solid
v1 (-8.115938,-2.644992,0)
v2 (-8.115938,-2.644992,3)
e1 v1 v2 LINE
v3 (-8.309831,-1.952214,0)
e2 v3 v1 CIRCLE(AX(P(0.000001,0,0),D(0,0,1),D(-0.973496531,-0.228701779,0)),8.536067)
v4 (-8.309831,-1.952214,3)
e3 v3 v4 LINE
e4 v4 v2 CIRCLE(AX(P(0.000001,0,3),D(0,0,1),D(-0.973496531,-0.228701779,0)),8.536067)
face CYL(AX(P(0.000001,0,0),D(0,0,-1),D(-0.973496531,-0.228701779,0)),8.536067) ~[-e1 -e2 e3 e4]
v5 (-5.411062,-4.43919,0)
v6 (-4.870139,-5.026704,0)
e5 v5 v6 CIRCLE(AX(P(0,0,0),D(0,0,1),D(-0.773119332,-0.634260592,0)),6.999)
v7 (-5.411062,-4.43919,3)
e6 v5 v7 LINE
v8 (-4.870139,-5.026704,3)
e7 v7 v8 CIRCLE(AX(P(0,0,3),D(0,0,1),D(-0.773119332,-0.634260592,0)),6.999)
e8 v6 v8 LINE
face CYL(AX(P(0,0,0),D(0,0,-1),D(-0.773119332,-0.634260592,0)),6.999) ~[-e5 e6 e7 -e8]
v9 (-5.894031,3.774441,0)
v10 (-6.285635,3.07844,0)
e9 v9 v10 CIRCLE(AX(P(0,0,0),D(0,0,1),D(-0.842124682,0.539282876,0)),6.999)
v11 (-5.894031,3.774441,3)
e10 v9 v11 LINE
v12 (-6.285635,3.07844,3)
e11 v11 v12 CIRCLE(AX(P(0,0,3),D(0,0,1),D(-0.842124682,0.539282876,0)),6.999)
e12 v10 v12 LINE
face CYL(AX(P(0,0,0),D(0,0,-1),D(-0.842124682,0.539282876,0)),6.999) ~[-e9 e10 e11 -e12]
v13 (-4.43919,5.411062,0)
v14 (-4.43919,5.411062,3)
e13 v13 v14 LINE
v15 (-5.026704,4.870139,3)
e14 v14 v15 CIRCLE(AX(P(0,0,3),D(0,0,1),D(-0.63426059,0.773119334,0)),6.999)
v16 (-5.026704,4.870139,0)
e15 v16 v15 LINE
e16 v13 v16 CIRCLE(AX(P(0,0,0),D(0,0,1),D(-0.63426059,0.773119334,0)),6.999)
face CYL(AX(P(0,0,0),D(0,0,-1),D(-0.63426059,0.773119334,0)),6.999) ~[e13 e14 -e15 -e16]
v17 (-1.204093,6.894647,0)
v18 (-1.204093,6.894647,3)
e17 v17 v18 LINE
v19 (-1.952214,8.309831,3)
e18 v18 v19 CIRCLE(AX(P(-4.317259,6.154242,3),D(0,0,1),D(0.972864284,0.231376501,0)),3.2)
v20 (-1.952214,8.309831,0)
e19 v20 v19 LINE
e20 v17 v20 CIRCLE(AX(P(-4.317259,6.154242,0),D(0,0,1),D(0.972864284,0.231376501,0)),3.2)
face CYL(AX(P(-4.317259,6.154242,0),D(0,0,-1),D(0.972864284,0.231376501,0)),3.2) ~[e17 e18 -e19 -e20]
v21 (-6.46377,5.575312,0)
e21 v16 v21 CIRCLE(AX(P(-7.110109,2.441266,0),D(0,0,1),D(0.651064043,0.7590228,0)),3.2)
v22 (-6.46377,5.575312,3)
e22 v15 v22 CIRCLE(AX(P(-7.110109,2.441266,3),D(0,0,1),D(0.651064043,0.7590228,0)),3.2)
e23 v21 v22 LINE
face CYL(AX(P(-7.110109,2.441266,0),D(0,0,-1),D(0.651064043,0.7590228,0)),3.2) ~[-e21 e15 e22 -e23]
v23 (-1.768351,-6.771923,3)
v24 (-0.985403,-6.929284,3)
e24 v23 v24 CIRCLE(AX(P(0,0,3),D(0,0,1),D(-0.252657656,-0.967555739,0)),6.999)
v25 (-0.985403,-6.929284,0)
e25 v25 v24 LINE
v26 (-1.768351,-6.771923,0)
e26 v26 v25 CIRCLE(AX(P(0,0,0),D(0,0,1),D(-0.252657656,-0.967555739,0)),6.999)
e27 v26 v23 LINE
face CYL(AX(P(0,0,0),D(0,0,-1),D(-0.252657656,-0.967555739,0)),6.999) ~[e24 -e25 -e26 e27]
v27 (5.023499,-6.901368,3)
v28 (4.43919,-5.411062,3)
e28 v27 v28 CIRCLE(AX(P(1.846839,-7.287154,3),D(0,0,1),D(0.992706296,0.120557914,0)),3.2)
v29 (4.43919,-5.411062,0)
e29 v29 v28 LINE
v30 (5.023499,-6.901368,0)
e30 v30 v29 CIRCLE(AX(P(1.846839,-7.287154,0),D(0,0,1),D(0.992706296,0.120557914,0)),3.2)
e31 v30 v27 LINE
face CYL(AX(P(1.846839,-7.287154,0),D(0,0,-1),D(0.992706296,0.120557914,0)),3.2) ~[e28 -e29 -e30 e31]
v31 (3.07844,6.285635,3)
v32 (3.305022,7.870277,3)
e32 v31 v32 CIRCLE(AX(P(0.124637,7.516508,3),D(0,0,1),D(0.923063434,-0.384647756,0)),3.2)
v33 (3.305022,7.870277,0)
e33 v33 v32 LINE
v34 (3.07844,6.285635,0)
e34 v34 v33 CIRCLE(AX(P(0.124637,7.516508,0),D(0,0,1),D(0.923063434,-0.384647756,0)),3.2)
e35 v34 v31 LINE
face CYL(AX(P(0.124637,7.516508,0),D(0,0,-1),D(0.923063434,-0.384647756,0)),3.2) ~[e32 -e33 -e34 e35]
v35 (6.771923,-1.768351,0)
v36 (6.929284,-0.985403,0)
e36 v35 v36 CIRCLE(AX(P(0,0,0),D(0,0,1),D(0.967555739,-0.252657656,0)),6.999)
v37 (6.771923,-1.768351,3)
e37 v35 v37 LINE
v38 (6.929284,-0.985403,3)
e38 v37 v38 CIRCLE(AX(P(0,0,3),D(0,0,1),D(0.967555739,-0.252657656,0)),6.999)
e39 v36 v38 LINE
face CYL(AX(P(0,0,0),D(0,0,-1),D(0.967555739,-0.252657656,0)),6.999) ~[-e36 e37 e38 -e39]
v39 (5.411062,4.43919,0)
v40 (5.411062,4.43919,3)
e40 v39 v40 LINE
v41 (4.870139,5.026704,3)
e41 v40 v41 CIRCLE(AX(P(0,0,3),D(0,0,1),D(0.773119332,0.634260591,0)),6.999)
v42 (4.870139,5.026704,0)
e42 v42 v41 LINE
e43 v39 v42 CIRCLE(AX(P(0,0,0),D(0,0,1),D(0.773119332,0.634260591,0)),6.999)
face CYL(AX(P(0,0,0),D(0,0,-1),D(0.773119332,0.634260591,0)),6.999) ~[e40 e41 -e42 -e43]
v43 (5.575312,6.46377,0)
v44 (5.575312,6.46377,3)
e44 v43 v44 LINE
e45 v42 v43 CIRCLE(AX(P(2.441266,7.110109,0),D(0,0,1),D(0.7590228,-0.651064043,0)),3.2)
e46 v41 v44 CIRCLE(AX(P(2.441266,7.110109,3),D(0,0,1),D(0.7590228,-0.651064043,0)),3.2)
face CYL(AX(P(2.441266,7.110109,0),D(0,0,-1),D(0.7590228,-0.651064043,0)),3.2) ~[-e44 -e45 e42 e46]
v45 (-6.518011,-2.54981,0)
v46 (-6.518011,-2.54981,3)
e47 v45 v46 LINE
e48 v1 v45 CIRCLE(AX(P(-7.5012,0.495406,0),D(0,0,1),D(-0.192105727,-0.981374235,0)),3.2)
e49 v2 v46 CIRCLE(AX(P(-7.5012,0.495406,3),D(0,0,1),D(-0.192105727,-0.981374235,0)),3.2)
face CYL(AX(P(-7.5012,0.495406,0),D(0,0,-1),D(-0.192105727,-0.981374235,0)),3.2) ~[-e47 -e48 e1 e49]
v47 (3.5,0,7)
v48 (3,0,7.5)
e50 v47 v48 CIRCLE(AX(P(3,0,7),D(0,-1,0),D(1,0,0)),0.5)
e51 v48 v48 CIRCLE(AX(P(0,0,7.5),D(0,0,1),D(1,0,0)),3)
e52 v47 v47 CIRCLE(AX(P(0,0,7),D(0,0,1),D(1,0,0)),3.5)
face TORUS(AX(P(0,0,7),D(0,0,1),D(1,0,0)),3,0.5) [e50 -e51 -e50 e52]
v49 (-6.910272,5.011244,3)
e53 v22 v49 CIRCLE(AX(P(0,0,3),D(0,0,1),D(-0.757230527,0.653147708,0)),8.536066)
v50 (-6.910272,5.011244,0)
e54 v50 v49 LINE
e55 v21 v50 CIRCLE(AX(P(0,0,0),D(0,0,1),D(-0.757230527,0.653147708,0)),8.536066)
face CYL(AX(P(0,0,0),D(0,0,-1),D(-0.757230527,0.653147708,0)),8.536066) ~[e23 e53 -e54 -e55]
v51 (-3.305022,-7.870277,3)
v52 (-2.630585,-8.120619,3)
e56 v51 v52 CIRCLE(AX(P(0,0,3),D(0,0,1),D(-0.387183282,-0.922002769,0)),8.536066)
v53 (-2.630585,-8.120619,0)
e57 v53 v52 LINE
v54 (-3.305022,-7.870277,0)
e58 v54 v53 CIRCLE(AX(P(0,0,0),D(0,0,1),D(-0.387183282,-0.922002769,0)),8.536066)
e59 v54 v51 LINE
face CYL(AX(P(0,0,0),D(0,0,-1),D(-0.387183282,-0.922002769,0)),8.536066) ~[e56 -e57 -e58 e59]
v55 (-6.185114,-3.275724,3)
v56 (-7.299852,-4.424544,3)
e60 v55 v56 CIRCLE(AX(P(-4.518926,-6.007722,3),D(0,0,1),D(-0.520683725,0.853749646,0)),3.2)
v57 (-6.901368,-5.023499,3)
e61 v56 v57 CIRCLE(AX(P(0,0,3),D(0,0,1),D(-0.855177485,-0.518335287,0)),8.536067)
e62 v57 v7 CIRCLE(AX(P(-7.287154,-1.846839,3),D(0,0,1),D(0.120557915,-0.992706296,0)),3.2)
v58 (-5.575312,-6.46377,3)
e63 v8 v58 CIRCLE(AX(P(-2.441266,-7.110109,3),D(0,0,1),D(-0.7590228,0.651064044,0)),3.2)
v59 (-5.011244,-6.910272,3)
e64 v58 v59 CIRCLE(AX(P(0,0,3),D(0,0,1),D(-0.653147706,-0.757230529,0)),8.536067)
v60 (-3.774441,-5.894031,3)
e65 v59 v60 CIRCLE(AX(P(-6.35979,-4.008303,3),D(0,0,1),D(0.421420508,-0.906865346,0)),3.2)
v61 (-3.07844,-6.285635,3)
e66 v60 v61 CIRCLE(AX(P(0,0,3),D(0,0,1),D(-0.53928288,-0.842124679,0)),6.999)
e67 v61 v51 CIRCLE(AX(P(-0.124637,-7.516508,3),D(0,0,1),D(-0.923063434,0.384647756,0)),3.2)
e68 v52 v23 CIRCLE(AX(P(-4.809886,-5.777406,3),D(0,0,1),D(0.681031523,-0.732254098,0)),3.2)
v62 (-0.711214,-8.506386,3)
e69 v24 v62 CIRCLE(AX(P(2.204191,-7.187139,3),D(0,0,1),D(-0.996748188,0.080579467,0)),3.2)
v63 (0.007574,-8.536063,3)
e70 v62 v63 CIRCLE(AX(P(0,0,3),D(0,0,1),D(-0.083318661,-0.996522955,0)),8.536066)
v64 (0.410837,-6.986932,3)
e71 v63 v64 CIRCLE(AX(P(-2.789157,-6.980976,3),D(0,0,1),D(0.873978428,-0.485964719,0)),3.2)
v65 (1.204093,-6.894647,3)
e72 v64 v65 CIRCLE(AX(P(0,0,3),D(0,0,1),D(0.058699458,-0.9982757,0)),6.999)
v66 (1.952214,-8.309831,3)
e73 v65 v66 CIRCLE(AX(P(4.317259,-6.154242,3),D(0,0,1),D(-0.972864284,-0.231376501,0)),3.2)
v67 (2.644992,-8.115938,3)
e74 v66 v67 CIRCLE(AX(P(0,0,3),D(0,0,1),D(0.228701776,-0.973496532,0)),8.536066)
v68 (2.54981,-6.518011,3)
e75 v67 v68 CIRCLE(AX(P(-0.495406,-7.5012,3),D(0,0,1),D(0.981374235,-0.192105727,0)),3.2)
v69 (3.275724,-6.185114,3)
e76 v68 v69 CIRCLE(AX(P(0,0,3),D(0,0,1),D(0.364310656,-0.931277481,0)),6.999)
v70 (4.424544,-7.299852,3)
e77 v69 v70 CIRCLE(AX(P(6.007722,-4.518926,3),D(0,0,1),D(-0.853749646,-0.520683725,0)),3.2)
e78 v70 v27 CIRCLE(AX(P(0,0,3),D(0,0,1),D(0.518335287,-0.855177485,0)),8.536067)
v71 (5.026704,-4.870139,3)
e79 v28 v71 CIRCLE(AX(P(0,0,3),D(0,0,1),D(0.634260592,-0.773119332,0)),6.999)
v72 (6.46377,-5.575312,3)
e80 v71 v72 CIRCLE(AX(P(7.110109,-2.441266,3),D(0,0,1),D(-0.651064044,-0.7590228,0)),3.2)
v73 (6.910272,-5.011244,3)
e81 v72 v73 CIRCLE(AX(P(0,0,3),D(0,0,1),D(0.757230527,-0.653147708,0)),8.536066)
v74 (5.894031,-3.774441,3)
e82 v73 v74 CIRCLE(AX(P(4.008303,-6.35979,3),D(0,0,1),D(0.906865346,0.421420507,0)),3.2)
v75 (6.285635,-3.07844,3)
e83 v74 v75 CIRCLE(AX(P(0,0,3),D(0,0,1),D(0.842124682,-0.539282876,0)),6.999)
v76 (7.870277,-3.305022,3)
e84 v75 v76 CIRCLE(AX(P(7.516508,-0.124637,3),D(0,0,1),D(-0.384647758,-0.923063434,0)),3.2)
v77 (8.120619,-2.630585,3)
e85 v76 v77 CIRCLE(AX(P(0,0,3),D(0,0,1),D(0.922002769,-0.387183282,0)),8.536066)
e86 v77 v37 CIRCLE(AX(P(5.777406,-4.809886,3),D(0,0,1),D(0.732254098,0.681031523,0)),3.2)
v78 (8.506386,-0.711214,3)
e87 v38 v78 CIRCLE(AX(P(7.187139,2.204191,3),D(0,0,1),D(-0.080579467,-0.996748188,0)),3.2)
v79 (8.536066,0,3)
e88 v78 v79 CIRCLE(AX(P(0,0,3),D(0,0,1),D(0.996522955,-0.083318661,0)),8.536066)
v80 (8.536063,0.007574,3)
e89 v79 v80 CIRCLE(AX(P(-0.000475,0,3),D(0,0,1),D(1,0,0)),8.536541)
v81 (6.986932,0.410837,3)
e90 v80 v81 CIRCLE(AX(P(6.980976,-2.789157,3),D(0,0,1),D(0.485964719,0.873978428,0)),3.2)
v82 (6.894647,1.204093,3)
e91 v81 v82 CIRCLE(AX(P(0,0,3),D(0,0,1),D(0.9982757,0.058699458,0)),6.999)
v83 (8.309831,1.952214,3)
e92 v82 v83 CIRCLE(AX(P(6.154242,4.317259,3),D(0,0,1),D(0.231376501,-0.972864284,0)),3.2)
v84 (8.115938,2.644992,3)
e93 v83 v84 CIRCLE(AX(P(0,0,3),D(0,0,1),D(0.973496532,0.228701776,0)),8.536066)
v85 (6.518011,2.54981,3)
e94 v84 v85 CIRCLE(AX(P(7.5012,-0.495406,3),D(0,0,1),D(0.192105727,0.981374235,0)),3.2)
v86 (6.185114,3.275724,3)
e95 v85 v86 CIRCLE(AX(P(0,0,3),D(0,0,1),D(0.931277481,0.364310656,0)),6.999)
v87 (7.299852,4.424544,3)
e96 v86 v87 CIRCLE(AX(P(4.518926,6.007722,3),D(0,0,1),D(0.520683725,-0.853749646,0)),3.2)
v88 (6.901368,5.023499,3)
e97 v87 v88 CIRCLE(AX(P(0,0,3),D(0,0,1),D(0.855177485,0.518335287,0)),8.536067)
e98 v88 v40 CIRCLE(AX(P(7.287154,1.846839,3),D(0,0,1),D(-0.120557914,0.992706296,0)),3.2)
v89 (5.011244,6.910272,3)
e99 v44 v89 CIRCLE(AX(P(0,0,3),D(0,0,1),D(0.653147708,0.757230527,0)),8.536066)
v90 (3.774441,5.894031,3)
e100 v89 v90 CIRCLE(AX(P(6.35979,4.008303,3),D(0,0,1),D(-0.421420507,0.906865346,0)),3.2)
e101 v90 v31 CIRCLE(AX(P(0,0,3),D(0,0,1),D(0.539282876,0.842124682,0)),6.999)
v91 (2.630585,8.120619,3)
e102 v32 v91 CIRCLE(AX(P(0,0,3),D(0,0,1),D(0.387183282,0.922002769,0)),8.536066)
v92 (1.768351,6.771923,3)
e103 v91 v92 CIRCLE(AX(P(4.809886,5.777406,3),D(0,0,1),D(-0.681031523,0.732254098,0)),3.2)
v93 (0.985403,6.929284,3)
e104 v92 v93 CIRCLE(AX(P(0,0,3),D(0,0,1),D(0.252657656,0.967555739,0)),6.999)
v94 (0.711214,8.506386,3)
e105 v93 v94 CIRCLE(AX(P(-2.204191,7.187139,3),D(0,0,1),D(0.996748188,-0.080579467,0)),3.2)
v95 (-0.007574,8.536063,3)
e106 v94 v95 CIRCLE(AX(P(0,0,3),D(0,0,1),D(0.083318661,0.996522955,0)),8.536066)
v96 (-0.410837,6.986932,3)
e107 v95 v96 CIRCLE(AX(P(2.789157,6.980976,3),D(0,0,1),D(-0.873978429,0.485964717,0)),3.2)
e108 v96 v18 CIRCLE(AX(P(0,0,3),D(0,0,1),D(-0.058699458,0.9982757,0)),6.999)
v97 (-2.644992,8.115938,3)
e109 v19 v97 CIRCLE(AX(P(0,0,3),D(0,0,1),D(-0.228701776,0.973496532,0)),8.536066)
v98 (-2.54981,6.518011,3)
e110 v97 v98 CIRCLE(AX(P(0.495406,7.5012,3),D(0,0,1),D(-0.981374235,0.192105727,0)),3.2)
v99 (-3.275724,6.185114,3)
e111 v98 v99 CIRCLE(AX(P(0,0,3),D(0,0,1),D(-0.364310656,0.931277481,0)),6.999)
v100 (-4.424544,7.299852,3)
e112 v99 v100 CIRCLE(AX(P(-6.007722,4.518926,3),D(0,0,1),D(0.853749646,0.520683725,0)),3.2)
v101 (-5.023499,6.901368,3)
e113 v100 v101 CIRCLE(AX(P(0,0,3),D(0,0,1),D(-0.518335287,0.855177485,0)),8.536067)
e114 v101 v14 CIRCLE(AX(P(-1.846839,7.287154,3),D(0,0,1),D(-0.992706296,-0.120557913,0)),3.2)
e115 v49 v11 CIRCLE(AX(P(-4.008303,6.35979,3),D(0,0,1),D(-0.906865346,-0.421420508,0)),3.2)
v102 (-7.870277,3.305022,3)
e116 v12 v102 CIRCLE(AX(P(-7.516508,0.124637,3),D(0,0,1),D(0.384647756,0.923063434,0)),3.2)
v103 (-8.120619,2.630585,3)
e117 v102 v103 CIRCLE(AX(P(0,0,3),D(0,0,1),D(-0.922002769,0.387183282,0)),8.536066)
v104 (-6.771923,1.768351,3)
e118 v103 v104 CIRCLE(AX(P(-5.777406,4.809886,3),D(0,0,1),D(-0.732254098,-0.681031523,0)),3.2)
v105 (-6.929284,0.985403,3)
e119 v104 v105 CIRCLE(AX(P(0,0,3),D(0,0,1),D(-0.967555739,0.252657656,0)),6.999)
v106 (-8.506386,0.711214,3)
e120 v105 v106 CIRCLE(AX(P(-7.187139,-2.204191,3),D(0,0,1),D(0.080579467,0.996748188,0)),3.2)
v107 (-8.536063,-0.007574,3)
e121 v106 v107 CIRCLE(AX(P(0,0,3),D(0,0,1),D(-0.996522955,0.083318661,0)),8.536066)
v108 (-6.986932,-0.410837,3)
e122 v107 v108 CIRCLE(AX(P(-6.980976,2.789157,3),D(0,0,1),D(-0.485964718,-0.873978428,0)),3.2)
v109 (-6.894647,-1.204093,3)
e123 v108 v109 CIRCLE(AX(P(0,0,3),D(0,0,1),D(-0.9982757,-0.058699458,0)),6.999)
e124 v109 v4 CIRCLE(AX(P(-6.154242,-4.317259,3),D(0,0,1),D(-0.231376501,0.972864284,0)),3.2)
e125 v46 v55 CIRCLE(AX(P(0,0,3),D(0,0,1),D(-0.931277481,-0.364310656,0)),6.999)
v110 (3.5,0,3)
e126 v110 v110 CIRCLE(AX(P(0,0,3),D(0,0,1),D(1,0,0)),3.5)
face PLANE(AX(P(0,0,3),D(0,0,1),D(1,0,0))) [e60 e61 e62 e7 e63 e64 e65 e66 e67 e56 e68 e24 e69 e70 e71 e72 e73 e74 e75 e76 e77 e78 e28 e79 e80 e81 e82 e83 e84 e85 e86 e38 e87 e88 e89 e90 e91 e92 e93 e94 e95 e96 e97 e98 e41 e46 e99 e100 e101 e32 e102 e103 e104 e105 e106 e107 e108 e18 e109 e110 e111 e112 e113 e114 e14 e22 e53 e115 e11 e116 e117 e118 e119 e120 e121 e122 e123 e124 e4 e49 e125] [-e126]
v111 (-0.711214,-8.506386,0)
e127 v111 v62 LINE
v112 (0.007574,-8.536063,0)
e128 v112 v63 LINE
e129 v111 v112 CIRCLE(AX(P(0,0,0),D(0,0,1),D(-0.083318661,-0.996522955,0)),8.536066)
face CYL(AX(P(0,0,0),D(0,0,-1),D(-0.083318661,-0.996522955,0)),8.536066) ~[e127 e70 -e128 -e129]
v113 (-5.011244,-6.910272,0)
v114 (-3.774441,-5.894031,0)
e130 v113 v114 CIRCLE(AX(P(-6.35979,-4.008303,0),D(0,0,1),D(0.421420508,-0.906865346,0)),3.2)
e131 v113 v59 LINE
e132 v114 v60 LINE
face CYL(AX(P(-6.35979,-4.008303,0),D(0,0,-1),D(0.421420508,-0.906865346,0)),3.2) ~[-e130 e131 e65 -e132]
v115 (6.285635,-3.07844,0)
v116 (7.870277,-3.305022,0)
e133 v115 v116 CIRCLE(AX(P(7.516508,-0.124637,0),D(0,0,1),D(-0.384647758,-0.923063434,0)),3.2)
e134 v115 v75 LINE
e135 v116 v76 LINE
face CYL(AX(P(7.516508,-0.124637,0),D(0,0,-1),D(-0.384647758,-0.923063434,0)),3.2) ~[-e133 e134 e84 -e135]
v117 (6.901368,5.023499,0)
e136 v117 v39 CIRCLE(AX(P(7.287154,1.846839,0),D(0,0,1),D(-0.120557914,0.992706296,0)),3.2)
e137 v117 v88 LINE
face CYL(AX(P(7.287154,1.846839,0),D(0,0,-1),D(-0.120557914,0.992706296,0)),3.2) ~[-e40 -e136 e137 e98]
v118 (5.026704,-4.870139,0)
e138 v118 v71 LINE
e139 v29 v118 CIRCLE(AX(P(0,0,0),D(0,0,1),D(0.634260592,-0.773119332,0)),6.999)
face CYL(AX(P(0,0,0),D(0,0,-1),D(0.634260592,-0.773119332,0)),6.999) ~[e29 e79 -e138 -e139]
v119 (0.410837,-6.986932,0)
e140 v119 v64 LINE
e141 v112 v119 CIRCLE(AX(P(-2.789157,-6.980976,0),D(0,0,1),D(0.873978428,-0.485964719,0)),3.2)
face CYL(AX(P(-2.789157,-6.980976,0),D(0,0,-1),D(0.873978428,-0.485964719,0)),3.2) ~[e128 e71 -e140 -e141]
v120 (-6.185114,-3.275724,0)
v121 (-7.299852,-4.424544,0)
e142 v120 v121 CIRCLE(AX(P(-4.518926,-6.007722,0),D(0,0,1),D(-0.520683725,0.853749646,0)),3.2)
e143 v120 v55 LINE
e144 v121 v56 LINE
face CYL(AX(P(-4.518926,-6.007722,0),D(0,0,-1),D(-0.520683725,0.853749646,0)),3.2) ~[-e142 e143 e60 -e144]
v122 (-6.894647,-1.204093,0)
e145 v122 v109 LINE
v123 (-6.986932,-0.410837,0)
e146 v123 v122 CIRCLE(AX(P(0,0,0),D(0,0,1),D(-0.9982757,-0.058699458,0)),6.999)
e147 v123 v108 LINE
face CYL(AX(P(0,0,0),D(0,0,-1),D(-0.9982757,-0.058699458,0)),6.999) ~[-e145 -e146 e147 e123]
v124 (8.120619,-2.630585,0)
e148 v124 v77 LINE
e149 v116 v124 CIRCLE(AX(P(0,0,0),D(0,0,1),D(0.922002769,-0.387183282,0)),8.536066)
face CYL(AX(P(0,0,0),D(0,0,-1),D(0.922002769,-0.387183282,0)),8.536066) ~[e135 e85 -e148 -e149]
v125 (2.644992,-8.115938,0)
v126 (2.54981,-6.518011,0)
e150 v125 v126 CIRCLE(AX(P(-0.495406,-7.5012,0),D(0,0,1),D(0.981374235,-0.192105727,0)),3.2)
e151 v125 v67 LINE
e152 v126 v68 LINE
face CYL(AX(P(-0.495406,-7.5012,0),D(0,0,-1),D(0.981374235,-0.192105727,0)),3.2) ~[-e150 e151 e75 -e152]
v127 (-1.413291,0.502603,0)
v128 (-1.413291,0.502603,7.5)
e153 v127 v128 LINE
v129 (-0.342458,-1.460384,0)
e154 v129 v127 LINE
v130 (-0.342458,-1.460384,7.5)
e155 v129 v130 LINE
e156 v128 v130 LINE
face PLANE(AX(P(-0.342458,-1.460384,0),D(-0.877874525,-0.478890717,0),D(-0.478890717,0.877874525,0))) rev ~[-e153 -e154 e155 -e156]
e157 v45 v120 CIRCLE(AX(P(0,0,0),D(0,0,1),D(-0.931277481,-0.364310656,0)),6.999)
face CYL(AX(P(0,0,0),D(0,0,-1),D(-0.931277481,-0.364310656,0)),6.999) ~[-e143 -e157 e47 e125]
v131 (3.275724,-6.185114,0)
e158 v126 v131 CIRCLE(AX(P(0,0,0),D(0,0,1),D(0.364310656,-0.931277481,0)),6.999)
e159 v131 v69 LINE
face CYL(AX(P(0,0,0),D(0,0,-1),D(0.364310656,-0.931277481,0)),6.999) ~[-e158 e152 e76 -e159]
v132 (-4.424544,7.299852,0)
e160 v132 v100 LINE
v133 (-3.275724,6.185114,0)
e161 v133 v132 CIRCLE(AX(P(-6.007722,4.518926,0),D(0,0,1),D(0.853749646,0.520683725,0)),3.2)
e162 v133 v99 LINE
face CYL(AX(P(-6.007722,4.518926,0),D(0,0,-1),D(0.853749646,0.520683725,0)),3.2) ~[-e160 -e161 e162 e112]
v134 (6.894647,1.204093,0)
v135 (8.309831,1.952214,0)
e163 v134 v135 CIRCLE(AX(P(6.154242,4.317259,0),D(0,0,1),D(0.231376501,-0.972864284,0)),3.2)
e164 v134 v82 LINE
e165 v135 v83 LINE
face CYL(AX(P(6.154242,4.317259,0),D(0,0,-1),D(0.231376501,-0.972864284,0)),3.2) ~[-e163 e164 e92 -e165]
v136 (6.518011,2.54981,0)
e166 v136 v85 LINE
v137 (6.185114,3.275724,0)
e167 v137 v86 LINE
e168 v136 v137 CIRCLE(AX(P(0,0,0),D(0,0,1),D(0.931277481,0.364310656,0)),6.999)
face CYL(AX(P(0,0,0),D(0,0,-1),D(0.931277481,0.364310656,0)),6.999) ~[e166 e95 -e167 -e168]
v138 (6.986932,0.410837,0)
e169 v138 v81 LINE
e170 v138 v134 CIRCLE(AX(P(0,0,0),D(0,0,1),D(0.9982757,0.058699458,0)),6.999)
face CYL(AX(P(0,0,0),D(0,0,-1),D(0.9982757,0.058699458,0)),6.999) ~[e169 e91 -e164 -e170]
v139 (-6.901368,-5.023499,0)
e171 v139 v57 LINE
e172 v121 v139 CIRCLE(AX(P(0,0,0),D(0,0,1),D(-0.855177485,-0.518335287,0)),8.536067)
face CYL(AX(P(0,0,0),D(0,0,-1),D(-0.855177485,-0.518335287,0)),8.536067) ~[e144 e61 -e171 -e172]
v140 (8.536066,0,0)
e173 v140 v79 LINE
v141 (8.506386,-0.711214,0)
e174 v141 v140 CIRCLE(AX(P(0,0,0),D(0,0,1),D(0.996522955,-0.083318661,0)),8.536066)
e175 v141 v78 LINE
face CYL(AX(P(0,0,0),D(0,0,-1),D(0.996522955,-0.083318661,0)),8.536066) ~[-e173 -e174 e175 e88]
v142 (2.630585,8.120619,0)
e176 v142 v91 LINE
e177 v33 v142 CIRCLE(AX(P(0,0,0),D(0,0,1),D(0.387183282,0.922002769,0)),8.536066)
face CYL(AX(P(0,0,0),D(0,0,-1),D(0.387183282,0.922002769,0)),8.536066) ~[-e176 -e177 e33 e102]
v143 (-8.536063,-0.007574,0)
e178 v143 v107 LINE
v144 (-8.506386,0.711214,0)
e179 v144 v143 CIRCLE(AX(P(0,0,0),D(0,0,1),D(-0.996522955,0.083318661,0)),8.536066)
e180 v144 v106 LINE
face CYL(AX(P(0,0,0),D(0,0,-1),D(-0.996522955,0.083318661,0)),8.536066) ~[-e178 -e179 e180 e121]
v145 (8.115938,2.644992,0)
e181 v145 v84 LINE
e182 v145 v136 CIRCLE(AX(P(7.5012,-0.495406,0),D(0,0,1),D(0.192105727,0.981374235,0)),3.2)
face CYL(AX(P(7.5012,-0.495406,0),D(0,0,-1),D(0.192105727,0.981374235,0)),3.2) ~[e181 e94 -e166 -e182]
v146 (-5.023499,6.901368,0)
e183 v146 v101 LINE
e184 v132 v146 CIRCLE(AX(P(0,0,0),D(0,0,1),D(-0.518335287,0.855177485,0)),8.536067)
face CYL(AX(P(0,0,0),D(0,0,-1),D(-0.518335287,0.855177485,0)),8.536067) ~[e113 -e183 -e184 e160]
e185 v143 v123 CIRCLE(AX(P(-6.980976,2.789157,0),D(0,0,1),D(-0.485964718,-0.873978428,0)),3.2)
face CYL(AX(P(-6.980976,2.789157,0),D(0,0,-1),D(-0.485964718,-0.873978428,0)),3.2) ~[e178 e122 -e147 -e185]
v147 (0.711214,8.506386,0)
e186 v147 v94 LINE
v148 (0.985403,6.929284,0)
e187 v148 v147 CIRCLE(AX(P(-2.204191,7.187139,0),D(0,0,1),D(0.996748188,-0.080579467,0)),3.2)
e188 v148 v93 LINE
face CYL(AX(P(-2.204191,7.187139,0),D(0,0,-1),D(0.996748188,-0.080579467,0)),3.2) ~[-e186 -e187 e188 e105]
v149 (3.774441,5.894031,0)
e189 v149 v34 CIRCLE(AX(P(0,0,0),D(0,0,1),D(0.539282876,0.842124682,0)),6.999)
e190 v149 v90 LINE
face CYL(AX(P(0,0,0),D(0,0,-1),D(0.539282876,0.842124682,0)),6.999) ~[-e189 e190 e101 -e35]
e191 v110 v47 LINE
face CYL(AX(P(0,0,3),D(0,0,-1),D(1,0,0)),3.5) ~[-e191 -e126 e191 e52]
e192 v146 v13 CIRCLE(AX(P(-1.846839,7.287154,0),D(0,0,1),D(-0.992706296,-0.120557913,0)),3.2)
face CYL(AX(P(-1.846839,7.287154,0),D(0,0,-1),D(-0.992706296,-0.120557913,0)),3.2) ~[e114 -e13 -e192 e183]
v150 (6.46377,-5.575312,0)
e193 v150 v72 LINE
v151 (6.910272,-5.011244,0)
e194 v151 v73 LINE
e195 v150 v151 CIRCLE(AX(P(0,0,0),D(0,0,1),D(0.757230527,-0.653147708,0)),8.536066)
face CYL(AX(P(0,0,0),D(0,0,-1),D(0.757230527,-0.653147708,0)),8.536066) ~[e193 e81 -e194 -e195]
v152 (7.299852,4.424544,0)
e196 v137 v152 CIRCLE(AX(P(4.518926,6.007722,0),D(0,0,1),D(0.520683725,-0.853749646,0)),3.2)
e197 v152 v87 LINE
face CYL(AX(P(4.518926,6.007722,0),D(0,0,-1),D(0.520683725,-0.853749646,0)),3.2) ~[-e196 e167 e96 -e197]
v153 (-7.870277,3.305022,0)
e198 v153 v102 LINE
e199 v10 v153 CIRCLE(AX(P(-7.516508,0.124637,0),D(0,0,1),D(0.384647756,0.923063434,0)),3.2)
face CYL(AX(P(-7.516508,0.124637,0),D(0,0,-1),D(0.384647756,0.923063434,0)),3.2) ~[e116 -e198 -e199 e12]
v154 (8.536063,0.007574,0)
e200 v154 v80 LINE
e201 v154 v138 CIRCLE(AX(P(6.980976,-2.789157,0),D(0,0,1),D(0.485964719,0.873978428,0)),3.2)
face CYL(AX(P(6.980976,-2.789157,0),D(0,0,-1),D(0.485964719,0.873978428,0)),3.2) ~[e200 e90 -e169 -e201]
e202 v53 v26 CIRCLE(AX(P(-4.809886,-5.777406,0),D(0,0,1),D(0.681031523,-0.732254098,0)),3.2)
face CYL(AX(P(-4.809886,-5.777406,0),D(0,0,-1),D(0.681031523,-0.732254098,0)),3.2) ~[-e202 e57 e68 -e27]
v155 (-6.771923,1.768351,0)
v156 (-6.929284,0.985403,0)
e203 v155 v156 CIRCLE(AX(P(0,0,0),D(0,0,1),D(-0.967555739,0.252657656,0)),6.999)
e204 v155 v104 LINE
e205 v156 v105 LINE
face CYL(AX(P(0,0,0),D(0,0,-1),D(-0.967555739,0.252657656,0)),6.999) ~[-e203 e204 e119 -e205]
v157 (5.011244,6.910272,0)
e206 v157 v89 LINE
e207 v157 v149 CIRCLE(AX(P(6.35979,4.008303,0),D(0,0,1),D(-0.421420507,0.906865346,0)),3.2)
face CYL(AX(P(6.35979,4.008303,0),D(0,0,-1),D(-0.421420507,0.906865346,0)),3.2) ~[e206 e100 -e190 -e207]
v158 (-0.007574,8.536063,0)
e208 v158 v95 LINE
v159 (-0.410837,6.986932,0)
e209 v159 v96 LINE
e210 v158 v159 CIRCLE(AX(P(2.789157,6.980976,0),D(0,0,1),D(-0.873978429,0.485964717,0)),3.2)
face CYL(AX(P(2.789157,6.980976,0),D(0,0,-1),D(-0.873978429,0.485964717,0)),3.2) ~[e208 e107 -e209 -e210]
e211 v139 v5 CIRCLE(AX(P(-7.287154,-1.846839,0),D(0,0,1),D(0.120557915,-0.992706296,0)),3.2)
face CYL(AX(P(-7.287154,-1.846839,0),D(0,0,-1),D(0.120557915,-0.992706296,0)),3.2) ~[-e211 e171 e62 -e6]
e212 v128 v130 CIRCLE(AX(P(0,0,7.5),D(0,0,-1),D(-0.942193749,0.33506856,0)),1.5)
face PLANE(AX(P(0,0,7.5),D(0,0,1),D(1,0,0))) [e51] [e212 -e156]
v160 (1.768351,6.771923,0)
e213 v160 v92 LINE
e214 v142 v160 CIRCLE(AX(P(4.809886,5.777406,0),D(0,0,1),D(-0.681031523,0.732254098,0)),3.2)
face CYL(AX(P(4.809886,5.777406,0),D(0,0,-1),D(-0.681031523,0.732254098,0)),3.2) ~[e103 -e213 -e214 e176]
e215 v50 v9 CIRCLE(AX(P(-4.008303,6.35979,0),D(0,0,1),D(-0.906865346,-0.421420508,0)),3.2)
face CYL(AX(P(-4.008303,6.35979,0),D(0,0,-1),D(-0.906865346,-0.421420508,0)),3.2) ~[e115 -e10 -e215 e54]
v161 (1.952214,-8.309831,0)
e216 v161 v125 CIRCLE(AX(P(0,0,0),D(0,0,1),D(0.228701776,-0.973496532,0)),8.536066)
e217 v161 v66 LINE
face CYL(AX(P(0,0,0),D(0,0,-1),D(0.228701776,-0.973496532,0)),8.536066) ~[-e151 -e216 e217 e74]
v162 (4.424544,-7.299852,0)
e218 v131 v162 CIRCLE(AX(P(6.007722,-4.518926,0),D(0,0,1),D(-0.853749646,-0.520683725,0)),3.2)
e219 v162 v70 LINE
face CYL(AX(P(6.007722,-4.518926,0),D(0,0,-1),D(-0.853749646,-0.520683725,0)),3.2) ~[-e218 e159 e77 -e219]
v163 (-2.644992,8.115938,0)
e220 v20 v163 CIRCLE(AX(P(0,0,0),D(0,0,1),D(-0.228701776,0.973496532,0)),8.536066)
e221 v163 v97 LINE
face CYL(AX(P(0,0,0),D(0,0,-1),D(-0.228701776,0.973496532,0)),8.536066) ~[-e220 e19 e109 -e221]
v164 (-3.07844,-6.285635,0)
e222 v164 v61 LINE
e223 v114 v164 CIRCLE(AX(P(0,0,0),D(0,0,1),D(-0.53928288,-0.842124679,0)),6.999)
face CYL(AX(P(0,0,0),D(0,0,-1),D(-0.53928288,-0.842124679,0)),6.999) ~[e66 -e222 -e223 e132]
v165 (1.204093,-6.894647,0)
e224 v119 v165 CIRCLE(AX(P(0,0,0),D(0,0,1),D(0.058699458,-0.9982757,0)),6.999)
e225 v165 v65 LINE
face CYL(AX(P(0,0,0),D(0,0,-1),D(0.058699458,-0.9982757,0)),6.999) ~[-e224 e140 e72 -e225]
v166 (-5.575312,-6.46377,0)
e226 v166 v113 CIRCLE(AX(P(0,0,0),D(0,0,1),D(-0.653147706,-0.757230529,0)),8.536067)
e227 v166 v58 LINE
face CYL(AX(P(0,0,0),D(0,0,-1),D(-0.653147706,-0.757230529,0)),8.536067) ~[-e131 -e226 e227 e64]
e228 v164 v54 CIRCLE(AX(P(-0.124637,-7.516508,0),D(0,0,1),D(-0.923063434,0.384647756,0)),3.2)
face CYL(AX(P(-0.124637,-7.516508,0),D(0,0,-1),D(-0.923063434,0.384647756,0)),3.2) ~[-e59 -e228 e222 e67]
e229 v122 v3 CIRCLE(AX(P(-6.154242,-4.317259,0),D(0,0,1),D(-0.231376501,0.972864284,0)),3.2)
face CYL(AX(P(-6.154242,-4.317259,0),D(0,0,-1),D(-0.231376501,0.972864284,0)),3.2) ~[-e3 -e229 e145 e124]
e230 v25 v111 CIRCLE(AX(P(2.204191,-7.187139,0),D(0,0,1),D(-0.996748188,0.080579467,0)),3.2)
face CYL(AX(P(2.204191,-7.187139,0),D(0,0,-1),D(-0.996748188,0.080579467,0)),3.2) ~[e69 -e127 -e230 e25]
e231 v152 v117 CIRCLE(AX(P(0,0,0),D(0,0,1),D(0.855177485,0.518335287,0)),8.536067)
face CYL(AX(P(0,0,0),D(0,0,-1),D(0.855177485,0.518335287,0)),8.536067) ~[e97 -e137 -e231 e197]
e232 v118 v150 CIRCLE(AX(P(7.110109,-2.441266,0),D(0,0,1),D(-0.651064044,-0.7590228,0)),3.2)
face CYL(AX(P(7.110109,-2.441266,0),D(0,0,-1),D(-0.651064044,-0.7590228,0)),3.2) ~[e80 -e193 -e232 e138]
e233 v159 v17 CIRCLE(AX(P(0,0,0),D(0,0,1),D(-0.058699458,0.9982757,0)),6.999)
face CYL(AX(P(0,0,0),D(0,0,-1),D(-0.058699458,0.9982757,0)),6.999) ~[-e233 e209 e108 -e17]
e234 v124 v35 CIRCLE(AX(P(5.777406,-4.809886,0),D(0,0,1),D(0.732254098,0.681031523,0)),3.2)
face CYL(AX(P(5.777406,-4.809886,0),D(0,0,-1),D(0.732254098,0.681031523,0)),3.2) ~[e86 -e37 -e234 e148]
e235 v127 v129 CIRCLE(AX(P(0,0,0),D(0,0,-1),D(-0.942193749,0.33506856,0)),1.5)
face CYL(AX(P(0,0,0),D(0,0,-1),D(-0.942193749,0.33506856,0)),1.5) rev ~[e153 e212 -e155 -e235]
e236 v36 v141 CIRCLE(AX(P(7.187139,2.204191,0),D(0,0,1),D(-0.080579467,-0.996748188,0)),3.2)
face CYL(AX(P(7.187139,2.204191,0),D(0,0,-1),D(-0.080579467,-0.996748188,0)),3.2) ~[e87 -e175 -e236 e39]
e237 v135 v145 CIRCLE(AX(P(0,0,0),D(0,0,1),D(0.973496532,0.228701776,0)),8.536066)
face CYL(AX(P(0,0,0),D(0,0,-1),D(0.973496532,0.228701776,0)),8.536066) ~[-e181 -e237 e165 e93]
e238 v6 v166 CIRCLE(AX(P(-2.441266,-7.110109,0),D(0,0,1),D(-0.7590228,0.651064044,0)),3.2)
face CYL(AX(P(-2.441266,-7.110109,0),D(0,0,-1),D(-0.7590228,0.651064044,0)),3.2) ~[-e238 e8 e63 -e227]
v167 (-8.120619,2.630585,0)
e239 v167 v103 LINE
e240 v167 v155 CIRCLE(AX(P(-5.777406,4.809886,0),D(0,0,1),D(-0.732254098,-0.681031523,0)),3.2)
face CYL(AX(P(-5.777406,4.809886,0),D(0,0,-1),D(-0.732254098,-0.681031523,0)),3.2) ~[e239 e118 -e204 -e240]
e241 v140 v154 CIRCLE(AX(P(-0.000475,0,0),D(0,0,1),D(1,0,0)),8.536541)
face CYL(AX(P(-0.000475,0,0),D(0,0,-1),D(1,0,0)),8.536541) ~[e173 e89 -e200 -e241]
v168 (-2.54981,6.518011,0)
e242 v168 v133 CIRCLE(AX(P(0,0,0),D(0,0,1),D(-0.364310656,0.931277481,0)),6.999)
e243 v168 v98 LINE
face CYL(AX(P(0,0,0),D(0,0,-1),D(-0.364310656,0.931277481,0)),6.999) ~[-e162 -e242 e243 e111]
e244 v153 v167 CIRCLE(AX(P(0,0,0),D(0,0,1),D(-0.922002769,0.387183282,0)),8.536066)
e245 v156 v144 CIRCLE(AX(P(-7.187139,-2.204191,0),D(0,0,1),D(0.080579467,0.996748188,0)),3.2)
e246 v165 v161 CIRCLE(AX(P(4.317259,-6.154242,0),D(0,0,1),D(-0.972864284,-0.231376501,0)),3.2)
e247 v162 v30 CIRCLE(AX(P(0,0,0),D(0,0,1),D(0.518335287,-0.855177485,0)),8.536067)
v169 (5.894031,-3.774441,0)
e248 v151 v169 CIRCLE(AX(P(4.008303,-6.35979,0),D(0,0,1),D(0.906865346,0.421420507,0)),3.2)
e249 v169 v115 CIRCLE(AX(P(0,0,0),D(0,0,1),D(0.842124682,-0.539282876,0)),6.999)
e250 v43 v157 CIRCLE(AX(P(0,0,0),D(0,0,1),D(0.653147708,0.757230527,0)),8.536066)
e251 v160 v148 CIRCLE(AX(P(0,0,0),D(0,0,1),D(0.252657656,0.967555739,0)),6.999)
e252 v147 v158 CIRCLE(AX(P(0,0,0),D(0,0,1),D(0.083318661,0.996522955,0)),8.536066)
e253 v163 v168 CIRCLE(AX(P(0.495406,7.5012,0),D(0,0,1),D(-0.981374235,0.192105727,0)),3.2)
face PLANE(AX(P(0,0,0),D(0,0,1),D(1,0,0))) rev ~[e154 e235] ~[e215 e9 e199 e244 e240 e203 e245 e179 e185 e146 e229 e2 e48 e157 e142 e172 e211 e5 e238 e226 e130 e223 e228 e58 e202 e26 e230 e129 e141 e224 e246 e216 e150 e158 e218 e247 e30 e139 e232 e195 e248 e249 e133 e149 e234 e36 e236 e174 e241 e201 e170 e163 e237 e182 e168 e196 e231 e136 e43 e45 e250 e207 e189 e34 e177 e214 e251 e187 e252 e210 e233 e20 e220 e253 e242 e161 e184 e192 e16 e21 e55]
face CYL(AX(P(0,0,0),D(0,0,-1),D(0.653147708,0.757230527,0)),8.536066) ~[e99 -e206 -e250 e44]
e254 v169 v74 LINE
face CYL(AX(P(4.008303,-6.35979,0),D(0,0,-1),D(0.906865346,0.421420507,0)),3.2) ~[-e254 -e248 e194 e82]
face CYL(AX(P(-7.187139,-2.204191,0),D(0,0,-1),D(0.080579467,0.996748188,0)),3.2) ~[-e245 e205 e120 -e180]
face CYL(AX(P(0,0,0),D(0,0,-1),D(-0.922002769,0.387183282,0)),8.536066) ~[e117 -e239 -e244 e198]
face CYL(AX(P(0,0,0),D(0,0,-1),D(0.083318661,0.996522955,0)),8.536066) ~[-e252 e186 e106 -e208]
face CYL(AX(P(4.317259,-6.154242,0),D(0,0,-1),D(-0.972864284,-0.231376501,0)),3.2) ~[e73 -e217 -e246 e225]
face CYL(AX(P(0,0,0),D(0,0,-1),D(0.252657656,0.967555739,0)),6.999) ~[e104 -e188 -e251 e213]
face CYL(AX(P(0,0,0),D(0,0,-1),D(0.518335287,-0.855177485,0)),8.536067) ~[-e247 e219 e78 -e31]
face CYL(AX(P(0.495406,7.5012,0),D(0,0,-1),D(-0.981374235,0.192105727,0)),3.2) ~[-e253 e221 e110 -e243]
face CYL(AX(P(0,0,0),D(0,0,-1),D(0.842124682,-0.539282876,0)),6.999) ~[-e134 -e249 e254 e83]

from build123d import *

# Parameters (mm, degrees)
EXTRUDE_4_DEPTH     = 3
SKETCH_5_R          = 3.5
EXTRUDE_6_DEPTH     = 4.5
FILLET_1_R          = 0.5
CUT_EXTRUDE_1_DEPTH = 8.5


with BuildPart() as part:
    # 草图4 → 凸台-拉伸4 (new body)
    with BuildSketch(Plane.XY):
        with BuildLine():
            ThreePointArc((8.536063079, 0.007574004), (7.787120491, 0.307636704), (6.986931627, 0.410837493))
            ThreePointArc((6.986931627, 0.410837493), (6.952112765, 0.808782481), (6.894647301, 1.204092849))
            ThreePointArc((6.894647301, 1.204092849), (7.649774364, 1.488233206), (8.309831075, 1.95221355))
            ThreePointArc((8.309831075, 1.95221355), (8.220185959, 2.300646222), (8.115937918, 2.644991862))
            ThreePointArc((8.115937918, 2.644991862), (7.310926717, 2.698932461), (6.518011085, 2.549810286))
            ThreePointArc((6.518011085, 2.549810286), (6.361924616, 2.91751884), (6.18511409, 3.275723537))
            ThreePointArc((6.18511409, 3.275723537), (6.815478405, 3.77930417), (7.29985183, 4.424544441))
            ThreePointArc((7.29985183, 4.424544441), (7.106922641, 4.72822174), (6.901368208, 5.023499488))
            ThreePointArc((6.901368208, 5.023499488), (6.119088497, 4.826037904), (5.411062205, 4.439189883))
            ThreePointArc((5.411062205, 4.439189883), (5.148986959, 4.740668128), (4.870138818, 5.026703581))
            ThreePointArc((4.870138818, 5.026703581), (5.314035933, 5.70043051), (5.575312226, 6.463770094))
            ThreePointArc((5.575312226, 6.463770094), (5.297984218, 6.69296597), (5.011244492, 6.910271984))
            ThreePointArc((5.011244492, 6.910271984), (4.328271261, 6.480737132), (3.774440855, 5.894030644))
            ThreePointArc((3.774440855, 5.894030644), (3.432030584, 6.099767788), (3.078440426, 6.285634856))
            ThreePointArc((3.078440426, 6.285634856), (3.292418599, 7.063558994), (3.305022217, 7.870276894))
            ThreePointArc((3.305022217, 7.870276894), (2.970442186, 8.002556058), (2.63058525, 8.12061891))
            ThreePointArc((2.63058525, 8.12061891), (2.113772678, 7.501056656), (1.768350936, 6.77192262))
            ThreePointArc((1.768350936, 6.77192262), (1.379123142, 6.861779679), (0.985402836, 6.929284397))
            ThreePointArc((0.985402836, 6.929284397), (0.948516393, 7.735257109), (0.711213605, 8.506386157))
            ThreePointArc((0.711213605, 8.506386157), (0.352132577, 8.528800203), (-0.007574004, 8.536063079))
            ThreePointArc((-0.007574004, 8.536063079), (-0.307636703, 7.787120491), (-0.410837493, 6.986931627))
            ThreePointArc((-0.410837493, 6.986931627), (-0.808782481, 6.952112765), (-1.204092849, 6.894647301))
            ThreePointArc((-1.204092849, 6.894647301), (-1.488233206, 7.649774364), (-1.95221355, 8.309831075))
            ThreePointArc((-1.95221355, 8.309831075), (-2.300646222, 8.220185959), (-2.644991862, 8.115937918))
            ThreePointArc((-2.644991862, 8.115937918), (-2.698932461, 7.310926717), (-2.549810286, 6.518011085))
            ThreePointArc((-2.549810286, 6.518011085), (-2.91751884, 6.361924616), (-3.275723537, 6.18511409))
            ThreePointArc((-3.275723537, 6.18511409), (-3.77930417, 6.815478405), (-4.424544441, 7.29985183))
            ThreePointArc((-4.424544441, 7.29985183), (-4.72822174, 7.106922641), (-5.023499488, 6.901368208))
            ThreePointArc((-5.023499488, 6.901368208), (-4.826037904, 6.119088497), (-4.439189882, 5.411062205))
            ThreePointArc((-4.439189882, 5.411062205), (-4.740668128, 5.148986959), (-5.026703581, 4.870138818))
            ThreePointArc((-5.026703581, 4.870138818), (-5.70043051, 5.314035933), (-6.463770094, 5.575312226))
            ThreePointArc((-6.463770094, 5.575312226), (-6.69296597, 5.297984218), (-6.910271984, 5.011244492))
            ThreePointArc((-6.910271984, 5.011244492), (-6.480737132, 4.328271262), (-5.894030644, 3.774440855))
            ThreePointArc((-5.894030644, 3.774440855), (-6.099767788, 3.432030584), (-6.285634856, 3.078440426))
            ThreePointArc((-6.285634856, 3.078440426), (-7.063558994, 3.292418599), (-7.870276894, 3.305022217))
            ThreePointArc((-7.870276894, 3.305022217), (-8.002556058, 2.970442186), (-8.12061891, 2.63058525))
            ThreePointArc((-8.12061891, 2.63058525), (-7.501056656, 2.113772678), (-6.77192262, 1.768350936))
            ThreePointArc((-6.77192262, 1.768350936), (-6.861779679, 1.379123142), (-6.929284397, 0.985402836))
            ThreePointArc((-6.929284397, 0.985402836), (-7.735257109, 0.948516393), (-8.506386157, 0.711213605))
            ThreePointArc((-8.506386157, 0.711213605), (-8.528800203, 0.352132577), (-8.536063079, -0.007574004))
            ThreePointArc((-8.536063079, -0.007574004), (-7.787120492, -0.307636703), (-6.986931627, -0.410837493))
            ThreePointArc((-6.986931627, -0.410837493), (-6.952112765, -0.808782481), (-6.894647301, -1.204092849))
            ThreePointArc((-6.894647301, -1.204092849), (-7.649774364, -1.488233206), (-8.309831076, -1.95221355))
            ThreePointArc((-8.309831076, -1.95221355), (-8.220185959, -2.300646222), (-8.115937918, -2.644991862))
            ThreePointArc((-8.115937918, -2.644991862), (-7.310926717, -2.698932461), (-6.518011085, -2.549810286))
            ThreePointArc((-6.518011085, -2.549810286), (-6.361924616, -2.91751884), (-6.18511409, -3.275723537))
            ThreePointArc((-6.18511409, -3.275723537), (-6.815478405, -3.77930417), (-7.29985183, -4.424544441))
            ThreePointArc((-7.29985183, -4.424544441), (-7.106922641, -4.72822174), (-6.901368208, -5.023499488))
            ThreePointArc((-6.901368208, -5.023499488), (-6.119088498, -4.826037904), (-5.411062205, -4.439189883))
            ThreePointArc((-5.411062205, -4.439189883), (-5.148986959, -4.740668128), (-4.870138818, -5.026703582))
            ThreePointArc((-4.870138818, -5.026703582), (-5.314035933, -5.70043051), (-5.575312227, -6.463770094))
            ThreePointArc((-5.575312227, -6.463770094), (-5.297984218, -6.69296597), (-5.011244492, -6.910271984))
            ThreePointArc((-5.011244492, -6.910271984), (-4.328271262, -6.480737132), (-3.774440855, -5.894030644))
            ThreePointArc((-3.774440855, -5.894030644), (-3.432030584, -6.099767789), (-3.078440426, -6.285634856))
            ThreePointArc((-3.078440426, -6.285634856), (-3.292418599, -7.063558994), (-3.305022217, -7.870276894))
            ThreePointArc((-3.305022217, -7.870276894), (-2.970442186, -8.002556058), (-2.63058525, -8.12061891))
            ThreePointArc((-2.63058525, -8.12061891), (-2.113772678, -7.501056656), (-1.768350936, -6.77192262))
            ThreePointArc((-1.768350936, -6.77192262), (-1.379123142, -6.861779679), (-0.985402836, -6.929284397))
            ThreePointArc((-0.985402836, -6.929284397), (-0.948516393, -7.735257109), (-0.711213605, -8.506386157))
            ThreePointArc((-0.711213605, -8.506386157), (-0.352132577, -8.528800203), (0.007574004, -8.536063079))
            ThreePointArc((0.007574004, -8.536063079), (0.307636704, -7.787120491), (0.410837493, -6.986931627))
            ThreePointArc((0.410837493, -6.986931627), (0.808782481, -6.952112765), (1.204092849, -6.894647301))
            ThreePointArc((1.204092849, -6.894647301), (1.488233206, -7.649774364), (1.95221355, -8.309831075))
            ThreePointArc((1.95221355, -8.309831075), (2.300646222, -8.220185959), (2.644991862, -8.115937918))
            ThreePointArc((2.644991862, -8.115937918), (2.698932461, -7.310926717), (2.549810286, -6.518011085))
            ThreePointArc((2.549810286, -6.518011085), (2.91751884, -6.361924616), (3.275723537, -6.18511409))
            ThreePointArc((3.275723537, -6.18511409), (3.77930417, -6.815478405), (4.424544441, -7.29985183))
            ThreePointArc((4.424544441, -7.29985183), (4.72822174, -7.106922641), (5.023499488, -6.901368208))
            ThreePointArc((5.023499488, -6.901368208), (4.826037904, -6.119088497), (4.439189883, -5.411062205))
            ThreePointArc((4.439189883, -5.411062205), (4.740668128, -5.148986959), (5.026703582, -4.870138818))
            ThreePointArc((5.026703582, -4.870138818), (5.70043051, -5.314035933), (6.463770094, -5.575312226))
            ThreePointArc((6.463770094, -5.575312226), (6.69296597, -5.297984218), (6.910271984, -5.011244492))
            ThreePointArc((6.910271984, -5.011244492), (6.480737132, -4.328271261), (5.894030644, -3.774440855))
            ThreePointArc((5.894030644, -3.774440855), (6.099767788, -3.432030584), (6.285634856, -3.078440425))
            ThreePointArc((6.285634856, -3.078440425), (7.063558994, -3.292418599), (7.870276894, -3.305022217))
            ThreePointArc((7.870276894, -3.305022217), (8.002556058, -2.970442186), (8.12061891, -2.63058525))
            ThreePointArc((8.12061891, -2.63058525), (7.501056656, -2.113772678), (6.77192262, -1.768350936))
            ThreePointArc((6.77192262, -1.768350936), (6.861779679, -1.379123142), (6.929284397, -0.985402836))
            ThreePointArc((6.929284397, -0.985402836), (7.735257109, -0.948516393), (8.506386157, -0.711213605))
            ThreePointArc((8.506386157, -0.711213605), (8.528643141, -0.355916321), (8.536066439, 0))
            ThreePointArc((8.536066439, 0), (8.536065599, 0.003787002), (8.536063079, 0.007574004))
        make_face()
    extrude(amount=EXTRUDE_4_DEPTH)

    # 草图5 → 凸台-拉伸6 (add)
    with BuildSketch(Plane.XY.offset(3)):
        Circle(SKETCH_5_R)
    extrude(amount=EXTRUDE_6_DEPTH)

    # 圆角1
    fillet_1_edges = [part.edges().sort_by_distance(p)[0] for p in [
        (-3.5, 0, 7.5),
    ]]
    fillet(fillet_1_edges, radius=FILLET_1_R)

    # 草图8 → 切除-拉伸1 (cut, through all)
    with BuildSketch(Plane(origin=(0, 0, 0), x_dir=(-1, 0, 0), z_dir=(0, 0, -1))):
        with BuildLine():
            Line((0.342458427, -1.460384273), (1.413290623, 0.50260284))
            ThreePointArc((1.413290623, 0.50260284), (-1.316811787, 0.718336075), (0.342458427, -1.460384273))
        make_face()
    extrude(amount=-CUT_EXTRUDE_1_DEPTH, mode=Mode.SUBTRACT)


solid = part.part
